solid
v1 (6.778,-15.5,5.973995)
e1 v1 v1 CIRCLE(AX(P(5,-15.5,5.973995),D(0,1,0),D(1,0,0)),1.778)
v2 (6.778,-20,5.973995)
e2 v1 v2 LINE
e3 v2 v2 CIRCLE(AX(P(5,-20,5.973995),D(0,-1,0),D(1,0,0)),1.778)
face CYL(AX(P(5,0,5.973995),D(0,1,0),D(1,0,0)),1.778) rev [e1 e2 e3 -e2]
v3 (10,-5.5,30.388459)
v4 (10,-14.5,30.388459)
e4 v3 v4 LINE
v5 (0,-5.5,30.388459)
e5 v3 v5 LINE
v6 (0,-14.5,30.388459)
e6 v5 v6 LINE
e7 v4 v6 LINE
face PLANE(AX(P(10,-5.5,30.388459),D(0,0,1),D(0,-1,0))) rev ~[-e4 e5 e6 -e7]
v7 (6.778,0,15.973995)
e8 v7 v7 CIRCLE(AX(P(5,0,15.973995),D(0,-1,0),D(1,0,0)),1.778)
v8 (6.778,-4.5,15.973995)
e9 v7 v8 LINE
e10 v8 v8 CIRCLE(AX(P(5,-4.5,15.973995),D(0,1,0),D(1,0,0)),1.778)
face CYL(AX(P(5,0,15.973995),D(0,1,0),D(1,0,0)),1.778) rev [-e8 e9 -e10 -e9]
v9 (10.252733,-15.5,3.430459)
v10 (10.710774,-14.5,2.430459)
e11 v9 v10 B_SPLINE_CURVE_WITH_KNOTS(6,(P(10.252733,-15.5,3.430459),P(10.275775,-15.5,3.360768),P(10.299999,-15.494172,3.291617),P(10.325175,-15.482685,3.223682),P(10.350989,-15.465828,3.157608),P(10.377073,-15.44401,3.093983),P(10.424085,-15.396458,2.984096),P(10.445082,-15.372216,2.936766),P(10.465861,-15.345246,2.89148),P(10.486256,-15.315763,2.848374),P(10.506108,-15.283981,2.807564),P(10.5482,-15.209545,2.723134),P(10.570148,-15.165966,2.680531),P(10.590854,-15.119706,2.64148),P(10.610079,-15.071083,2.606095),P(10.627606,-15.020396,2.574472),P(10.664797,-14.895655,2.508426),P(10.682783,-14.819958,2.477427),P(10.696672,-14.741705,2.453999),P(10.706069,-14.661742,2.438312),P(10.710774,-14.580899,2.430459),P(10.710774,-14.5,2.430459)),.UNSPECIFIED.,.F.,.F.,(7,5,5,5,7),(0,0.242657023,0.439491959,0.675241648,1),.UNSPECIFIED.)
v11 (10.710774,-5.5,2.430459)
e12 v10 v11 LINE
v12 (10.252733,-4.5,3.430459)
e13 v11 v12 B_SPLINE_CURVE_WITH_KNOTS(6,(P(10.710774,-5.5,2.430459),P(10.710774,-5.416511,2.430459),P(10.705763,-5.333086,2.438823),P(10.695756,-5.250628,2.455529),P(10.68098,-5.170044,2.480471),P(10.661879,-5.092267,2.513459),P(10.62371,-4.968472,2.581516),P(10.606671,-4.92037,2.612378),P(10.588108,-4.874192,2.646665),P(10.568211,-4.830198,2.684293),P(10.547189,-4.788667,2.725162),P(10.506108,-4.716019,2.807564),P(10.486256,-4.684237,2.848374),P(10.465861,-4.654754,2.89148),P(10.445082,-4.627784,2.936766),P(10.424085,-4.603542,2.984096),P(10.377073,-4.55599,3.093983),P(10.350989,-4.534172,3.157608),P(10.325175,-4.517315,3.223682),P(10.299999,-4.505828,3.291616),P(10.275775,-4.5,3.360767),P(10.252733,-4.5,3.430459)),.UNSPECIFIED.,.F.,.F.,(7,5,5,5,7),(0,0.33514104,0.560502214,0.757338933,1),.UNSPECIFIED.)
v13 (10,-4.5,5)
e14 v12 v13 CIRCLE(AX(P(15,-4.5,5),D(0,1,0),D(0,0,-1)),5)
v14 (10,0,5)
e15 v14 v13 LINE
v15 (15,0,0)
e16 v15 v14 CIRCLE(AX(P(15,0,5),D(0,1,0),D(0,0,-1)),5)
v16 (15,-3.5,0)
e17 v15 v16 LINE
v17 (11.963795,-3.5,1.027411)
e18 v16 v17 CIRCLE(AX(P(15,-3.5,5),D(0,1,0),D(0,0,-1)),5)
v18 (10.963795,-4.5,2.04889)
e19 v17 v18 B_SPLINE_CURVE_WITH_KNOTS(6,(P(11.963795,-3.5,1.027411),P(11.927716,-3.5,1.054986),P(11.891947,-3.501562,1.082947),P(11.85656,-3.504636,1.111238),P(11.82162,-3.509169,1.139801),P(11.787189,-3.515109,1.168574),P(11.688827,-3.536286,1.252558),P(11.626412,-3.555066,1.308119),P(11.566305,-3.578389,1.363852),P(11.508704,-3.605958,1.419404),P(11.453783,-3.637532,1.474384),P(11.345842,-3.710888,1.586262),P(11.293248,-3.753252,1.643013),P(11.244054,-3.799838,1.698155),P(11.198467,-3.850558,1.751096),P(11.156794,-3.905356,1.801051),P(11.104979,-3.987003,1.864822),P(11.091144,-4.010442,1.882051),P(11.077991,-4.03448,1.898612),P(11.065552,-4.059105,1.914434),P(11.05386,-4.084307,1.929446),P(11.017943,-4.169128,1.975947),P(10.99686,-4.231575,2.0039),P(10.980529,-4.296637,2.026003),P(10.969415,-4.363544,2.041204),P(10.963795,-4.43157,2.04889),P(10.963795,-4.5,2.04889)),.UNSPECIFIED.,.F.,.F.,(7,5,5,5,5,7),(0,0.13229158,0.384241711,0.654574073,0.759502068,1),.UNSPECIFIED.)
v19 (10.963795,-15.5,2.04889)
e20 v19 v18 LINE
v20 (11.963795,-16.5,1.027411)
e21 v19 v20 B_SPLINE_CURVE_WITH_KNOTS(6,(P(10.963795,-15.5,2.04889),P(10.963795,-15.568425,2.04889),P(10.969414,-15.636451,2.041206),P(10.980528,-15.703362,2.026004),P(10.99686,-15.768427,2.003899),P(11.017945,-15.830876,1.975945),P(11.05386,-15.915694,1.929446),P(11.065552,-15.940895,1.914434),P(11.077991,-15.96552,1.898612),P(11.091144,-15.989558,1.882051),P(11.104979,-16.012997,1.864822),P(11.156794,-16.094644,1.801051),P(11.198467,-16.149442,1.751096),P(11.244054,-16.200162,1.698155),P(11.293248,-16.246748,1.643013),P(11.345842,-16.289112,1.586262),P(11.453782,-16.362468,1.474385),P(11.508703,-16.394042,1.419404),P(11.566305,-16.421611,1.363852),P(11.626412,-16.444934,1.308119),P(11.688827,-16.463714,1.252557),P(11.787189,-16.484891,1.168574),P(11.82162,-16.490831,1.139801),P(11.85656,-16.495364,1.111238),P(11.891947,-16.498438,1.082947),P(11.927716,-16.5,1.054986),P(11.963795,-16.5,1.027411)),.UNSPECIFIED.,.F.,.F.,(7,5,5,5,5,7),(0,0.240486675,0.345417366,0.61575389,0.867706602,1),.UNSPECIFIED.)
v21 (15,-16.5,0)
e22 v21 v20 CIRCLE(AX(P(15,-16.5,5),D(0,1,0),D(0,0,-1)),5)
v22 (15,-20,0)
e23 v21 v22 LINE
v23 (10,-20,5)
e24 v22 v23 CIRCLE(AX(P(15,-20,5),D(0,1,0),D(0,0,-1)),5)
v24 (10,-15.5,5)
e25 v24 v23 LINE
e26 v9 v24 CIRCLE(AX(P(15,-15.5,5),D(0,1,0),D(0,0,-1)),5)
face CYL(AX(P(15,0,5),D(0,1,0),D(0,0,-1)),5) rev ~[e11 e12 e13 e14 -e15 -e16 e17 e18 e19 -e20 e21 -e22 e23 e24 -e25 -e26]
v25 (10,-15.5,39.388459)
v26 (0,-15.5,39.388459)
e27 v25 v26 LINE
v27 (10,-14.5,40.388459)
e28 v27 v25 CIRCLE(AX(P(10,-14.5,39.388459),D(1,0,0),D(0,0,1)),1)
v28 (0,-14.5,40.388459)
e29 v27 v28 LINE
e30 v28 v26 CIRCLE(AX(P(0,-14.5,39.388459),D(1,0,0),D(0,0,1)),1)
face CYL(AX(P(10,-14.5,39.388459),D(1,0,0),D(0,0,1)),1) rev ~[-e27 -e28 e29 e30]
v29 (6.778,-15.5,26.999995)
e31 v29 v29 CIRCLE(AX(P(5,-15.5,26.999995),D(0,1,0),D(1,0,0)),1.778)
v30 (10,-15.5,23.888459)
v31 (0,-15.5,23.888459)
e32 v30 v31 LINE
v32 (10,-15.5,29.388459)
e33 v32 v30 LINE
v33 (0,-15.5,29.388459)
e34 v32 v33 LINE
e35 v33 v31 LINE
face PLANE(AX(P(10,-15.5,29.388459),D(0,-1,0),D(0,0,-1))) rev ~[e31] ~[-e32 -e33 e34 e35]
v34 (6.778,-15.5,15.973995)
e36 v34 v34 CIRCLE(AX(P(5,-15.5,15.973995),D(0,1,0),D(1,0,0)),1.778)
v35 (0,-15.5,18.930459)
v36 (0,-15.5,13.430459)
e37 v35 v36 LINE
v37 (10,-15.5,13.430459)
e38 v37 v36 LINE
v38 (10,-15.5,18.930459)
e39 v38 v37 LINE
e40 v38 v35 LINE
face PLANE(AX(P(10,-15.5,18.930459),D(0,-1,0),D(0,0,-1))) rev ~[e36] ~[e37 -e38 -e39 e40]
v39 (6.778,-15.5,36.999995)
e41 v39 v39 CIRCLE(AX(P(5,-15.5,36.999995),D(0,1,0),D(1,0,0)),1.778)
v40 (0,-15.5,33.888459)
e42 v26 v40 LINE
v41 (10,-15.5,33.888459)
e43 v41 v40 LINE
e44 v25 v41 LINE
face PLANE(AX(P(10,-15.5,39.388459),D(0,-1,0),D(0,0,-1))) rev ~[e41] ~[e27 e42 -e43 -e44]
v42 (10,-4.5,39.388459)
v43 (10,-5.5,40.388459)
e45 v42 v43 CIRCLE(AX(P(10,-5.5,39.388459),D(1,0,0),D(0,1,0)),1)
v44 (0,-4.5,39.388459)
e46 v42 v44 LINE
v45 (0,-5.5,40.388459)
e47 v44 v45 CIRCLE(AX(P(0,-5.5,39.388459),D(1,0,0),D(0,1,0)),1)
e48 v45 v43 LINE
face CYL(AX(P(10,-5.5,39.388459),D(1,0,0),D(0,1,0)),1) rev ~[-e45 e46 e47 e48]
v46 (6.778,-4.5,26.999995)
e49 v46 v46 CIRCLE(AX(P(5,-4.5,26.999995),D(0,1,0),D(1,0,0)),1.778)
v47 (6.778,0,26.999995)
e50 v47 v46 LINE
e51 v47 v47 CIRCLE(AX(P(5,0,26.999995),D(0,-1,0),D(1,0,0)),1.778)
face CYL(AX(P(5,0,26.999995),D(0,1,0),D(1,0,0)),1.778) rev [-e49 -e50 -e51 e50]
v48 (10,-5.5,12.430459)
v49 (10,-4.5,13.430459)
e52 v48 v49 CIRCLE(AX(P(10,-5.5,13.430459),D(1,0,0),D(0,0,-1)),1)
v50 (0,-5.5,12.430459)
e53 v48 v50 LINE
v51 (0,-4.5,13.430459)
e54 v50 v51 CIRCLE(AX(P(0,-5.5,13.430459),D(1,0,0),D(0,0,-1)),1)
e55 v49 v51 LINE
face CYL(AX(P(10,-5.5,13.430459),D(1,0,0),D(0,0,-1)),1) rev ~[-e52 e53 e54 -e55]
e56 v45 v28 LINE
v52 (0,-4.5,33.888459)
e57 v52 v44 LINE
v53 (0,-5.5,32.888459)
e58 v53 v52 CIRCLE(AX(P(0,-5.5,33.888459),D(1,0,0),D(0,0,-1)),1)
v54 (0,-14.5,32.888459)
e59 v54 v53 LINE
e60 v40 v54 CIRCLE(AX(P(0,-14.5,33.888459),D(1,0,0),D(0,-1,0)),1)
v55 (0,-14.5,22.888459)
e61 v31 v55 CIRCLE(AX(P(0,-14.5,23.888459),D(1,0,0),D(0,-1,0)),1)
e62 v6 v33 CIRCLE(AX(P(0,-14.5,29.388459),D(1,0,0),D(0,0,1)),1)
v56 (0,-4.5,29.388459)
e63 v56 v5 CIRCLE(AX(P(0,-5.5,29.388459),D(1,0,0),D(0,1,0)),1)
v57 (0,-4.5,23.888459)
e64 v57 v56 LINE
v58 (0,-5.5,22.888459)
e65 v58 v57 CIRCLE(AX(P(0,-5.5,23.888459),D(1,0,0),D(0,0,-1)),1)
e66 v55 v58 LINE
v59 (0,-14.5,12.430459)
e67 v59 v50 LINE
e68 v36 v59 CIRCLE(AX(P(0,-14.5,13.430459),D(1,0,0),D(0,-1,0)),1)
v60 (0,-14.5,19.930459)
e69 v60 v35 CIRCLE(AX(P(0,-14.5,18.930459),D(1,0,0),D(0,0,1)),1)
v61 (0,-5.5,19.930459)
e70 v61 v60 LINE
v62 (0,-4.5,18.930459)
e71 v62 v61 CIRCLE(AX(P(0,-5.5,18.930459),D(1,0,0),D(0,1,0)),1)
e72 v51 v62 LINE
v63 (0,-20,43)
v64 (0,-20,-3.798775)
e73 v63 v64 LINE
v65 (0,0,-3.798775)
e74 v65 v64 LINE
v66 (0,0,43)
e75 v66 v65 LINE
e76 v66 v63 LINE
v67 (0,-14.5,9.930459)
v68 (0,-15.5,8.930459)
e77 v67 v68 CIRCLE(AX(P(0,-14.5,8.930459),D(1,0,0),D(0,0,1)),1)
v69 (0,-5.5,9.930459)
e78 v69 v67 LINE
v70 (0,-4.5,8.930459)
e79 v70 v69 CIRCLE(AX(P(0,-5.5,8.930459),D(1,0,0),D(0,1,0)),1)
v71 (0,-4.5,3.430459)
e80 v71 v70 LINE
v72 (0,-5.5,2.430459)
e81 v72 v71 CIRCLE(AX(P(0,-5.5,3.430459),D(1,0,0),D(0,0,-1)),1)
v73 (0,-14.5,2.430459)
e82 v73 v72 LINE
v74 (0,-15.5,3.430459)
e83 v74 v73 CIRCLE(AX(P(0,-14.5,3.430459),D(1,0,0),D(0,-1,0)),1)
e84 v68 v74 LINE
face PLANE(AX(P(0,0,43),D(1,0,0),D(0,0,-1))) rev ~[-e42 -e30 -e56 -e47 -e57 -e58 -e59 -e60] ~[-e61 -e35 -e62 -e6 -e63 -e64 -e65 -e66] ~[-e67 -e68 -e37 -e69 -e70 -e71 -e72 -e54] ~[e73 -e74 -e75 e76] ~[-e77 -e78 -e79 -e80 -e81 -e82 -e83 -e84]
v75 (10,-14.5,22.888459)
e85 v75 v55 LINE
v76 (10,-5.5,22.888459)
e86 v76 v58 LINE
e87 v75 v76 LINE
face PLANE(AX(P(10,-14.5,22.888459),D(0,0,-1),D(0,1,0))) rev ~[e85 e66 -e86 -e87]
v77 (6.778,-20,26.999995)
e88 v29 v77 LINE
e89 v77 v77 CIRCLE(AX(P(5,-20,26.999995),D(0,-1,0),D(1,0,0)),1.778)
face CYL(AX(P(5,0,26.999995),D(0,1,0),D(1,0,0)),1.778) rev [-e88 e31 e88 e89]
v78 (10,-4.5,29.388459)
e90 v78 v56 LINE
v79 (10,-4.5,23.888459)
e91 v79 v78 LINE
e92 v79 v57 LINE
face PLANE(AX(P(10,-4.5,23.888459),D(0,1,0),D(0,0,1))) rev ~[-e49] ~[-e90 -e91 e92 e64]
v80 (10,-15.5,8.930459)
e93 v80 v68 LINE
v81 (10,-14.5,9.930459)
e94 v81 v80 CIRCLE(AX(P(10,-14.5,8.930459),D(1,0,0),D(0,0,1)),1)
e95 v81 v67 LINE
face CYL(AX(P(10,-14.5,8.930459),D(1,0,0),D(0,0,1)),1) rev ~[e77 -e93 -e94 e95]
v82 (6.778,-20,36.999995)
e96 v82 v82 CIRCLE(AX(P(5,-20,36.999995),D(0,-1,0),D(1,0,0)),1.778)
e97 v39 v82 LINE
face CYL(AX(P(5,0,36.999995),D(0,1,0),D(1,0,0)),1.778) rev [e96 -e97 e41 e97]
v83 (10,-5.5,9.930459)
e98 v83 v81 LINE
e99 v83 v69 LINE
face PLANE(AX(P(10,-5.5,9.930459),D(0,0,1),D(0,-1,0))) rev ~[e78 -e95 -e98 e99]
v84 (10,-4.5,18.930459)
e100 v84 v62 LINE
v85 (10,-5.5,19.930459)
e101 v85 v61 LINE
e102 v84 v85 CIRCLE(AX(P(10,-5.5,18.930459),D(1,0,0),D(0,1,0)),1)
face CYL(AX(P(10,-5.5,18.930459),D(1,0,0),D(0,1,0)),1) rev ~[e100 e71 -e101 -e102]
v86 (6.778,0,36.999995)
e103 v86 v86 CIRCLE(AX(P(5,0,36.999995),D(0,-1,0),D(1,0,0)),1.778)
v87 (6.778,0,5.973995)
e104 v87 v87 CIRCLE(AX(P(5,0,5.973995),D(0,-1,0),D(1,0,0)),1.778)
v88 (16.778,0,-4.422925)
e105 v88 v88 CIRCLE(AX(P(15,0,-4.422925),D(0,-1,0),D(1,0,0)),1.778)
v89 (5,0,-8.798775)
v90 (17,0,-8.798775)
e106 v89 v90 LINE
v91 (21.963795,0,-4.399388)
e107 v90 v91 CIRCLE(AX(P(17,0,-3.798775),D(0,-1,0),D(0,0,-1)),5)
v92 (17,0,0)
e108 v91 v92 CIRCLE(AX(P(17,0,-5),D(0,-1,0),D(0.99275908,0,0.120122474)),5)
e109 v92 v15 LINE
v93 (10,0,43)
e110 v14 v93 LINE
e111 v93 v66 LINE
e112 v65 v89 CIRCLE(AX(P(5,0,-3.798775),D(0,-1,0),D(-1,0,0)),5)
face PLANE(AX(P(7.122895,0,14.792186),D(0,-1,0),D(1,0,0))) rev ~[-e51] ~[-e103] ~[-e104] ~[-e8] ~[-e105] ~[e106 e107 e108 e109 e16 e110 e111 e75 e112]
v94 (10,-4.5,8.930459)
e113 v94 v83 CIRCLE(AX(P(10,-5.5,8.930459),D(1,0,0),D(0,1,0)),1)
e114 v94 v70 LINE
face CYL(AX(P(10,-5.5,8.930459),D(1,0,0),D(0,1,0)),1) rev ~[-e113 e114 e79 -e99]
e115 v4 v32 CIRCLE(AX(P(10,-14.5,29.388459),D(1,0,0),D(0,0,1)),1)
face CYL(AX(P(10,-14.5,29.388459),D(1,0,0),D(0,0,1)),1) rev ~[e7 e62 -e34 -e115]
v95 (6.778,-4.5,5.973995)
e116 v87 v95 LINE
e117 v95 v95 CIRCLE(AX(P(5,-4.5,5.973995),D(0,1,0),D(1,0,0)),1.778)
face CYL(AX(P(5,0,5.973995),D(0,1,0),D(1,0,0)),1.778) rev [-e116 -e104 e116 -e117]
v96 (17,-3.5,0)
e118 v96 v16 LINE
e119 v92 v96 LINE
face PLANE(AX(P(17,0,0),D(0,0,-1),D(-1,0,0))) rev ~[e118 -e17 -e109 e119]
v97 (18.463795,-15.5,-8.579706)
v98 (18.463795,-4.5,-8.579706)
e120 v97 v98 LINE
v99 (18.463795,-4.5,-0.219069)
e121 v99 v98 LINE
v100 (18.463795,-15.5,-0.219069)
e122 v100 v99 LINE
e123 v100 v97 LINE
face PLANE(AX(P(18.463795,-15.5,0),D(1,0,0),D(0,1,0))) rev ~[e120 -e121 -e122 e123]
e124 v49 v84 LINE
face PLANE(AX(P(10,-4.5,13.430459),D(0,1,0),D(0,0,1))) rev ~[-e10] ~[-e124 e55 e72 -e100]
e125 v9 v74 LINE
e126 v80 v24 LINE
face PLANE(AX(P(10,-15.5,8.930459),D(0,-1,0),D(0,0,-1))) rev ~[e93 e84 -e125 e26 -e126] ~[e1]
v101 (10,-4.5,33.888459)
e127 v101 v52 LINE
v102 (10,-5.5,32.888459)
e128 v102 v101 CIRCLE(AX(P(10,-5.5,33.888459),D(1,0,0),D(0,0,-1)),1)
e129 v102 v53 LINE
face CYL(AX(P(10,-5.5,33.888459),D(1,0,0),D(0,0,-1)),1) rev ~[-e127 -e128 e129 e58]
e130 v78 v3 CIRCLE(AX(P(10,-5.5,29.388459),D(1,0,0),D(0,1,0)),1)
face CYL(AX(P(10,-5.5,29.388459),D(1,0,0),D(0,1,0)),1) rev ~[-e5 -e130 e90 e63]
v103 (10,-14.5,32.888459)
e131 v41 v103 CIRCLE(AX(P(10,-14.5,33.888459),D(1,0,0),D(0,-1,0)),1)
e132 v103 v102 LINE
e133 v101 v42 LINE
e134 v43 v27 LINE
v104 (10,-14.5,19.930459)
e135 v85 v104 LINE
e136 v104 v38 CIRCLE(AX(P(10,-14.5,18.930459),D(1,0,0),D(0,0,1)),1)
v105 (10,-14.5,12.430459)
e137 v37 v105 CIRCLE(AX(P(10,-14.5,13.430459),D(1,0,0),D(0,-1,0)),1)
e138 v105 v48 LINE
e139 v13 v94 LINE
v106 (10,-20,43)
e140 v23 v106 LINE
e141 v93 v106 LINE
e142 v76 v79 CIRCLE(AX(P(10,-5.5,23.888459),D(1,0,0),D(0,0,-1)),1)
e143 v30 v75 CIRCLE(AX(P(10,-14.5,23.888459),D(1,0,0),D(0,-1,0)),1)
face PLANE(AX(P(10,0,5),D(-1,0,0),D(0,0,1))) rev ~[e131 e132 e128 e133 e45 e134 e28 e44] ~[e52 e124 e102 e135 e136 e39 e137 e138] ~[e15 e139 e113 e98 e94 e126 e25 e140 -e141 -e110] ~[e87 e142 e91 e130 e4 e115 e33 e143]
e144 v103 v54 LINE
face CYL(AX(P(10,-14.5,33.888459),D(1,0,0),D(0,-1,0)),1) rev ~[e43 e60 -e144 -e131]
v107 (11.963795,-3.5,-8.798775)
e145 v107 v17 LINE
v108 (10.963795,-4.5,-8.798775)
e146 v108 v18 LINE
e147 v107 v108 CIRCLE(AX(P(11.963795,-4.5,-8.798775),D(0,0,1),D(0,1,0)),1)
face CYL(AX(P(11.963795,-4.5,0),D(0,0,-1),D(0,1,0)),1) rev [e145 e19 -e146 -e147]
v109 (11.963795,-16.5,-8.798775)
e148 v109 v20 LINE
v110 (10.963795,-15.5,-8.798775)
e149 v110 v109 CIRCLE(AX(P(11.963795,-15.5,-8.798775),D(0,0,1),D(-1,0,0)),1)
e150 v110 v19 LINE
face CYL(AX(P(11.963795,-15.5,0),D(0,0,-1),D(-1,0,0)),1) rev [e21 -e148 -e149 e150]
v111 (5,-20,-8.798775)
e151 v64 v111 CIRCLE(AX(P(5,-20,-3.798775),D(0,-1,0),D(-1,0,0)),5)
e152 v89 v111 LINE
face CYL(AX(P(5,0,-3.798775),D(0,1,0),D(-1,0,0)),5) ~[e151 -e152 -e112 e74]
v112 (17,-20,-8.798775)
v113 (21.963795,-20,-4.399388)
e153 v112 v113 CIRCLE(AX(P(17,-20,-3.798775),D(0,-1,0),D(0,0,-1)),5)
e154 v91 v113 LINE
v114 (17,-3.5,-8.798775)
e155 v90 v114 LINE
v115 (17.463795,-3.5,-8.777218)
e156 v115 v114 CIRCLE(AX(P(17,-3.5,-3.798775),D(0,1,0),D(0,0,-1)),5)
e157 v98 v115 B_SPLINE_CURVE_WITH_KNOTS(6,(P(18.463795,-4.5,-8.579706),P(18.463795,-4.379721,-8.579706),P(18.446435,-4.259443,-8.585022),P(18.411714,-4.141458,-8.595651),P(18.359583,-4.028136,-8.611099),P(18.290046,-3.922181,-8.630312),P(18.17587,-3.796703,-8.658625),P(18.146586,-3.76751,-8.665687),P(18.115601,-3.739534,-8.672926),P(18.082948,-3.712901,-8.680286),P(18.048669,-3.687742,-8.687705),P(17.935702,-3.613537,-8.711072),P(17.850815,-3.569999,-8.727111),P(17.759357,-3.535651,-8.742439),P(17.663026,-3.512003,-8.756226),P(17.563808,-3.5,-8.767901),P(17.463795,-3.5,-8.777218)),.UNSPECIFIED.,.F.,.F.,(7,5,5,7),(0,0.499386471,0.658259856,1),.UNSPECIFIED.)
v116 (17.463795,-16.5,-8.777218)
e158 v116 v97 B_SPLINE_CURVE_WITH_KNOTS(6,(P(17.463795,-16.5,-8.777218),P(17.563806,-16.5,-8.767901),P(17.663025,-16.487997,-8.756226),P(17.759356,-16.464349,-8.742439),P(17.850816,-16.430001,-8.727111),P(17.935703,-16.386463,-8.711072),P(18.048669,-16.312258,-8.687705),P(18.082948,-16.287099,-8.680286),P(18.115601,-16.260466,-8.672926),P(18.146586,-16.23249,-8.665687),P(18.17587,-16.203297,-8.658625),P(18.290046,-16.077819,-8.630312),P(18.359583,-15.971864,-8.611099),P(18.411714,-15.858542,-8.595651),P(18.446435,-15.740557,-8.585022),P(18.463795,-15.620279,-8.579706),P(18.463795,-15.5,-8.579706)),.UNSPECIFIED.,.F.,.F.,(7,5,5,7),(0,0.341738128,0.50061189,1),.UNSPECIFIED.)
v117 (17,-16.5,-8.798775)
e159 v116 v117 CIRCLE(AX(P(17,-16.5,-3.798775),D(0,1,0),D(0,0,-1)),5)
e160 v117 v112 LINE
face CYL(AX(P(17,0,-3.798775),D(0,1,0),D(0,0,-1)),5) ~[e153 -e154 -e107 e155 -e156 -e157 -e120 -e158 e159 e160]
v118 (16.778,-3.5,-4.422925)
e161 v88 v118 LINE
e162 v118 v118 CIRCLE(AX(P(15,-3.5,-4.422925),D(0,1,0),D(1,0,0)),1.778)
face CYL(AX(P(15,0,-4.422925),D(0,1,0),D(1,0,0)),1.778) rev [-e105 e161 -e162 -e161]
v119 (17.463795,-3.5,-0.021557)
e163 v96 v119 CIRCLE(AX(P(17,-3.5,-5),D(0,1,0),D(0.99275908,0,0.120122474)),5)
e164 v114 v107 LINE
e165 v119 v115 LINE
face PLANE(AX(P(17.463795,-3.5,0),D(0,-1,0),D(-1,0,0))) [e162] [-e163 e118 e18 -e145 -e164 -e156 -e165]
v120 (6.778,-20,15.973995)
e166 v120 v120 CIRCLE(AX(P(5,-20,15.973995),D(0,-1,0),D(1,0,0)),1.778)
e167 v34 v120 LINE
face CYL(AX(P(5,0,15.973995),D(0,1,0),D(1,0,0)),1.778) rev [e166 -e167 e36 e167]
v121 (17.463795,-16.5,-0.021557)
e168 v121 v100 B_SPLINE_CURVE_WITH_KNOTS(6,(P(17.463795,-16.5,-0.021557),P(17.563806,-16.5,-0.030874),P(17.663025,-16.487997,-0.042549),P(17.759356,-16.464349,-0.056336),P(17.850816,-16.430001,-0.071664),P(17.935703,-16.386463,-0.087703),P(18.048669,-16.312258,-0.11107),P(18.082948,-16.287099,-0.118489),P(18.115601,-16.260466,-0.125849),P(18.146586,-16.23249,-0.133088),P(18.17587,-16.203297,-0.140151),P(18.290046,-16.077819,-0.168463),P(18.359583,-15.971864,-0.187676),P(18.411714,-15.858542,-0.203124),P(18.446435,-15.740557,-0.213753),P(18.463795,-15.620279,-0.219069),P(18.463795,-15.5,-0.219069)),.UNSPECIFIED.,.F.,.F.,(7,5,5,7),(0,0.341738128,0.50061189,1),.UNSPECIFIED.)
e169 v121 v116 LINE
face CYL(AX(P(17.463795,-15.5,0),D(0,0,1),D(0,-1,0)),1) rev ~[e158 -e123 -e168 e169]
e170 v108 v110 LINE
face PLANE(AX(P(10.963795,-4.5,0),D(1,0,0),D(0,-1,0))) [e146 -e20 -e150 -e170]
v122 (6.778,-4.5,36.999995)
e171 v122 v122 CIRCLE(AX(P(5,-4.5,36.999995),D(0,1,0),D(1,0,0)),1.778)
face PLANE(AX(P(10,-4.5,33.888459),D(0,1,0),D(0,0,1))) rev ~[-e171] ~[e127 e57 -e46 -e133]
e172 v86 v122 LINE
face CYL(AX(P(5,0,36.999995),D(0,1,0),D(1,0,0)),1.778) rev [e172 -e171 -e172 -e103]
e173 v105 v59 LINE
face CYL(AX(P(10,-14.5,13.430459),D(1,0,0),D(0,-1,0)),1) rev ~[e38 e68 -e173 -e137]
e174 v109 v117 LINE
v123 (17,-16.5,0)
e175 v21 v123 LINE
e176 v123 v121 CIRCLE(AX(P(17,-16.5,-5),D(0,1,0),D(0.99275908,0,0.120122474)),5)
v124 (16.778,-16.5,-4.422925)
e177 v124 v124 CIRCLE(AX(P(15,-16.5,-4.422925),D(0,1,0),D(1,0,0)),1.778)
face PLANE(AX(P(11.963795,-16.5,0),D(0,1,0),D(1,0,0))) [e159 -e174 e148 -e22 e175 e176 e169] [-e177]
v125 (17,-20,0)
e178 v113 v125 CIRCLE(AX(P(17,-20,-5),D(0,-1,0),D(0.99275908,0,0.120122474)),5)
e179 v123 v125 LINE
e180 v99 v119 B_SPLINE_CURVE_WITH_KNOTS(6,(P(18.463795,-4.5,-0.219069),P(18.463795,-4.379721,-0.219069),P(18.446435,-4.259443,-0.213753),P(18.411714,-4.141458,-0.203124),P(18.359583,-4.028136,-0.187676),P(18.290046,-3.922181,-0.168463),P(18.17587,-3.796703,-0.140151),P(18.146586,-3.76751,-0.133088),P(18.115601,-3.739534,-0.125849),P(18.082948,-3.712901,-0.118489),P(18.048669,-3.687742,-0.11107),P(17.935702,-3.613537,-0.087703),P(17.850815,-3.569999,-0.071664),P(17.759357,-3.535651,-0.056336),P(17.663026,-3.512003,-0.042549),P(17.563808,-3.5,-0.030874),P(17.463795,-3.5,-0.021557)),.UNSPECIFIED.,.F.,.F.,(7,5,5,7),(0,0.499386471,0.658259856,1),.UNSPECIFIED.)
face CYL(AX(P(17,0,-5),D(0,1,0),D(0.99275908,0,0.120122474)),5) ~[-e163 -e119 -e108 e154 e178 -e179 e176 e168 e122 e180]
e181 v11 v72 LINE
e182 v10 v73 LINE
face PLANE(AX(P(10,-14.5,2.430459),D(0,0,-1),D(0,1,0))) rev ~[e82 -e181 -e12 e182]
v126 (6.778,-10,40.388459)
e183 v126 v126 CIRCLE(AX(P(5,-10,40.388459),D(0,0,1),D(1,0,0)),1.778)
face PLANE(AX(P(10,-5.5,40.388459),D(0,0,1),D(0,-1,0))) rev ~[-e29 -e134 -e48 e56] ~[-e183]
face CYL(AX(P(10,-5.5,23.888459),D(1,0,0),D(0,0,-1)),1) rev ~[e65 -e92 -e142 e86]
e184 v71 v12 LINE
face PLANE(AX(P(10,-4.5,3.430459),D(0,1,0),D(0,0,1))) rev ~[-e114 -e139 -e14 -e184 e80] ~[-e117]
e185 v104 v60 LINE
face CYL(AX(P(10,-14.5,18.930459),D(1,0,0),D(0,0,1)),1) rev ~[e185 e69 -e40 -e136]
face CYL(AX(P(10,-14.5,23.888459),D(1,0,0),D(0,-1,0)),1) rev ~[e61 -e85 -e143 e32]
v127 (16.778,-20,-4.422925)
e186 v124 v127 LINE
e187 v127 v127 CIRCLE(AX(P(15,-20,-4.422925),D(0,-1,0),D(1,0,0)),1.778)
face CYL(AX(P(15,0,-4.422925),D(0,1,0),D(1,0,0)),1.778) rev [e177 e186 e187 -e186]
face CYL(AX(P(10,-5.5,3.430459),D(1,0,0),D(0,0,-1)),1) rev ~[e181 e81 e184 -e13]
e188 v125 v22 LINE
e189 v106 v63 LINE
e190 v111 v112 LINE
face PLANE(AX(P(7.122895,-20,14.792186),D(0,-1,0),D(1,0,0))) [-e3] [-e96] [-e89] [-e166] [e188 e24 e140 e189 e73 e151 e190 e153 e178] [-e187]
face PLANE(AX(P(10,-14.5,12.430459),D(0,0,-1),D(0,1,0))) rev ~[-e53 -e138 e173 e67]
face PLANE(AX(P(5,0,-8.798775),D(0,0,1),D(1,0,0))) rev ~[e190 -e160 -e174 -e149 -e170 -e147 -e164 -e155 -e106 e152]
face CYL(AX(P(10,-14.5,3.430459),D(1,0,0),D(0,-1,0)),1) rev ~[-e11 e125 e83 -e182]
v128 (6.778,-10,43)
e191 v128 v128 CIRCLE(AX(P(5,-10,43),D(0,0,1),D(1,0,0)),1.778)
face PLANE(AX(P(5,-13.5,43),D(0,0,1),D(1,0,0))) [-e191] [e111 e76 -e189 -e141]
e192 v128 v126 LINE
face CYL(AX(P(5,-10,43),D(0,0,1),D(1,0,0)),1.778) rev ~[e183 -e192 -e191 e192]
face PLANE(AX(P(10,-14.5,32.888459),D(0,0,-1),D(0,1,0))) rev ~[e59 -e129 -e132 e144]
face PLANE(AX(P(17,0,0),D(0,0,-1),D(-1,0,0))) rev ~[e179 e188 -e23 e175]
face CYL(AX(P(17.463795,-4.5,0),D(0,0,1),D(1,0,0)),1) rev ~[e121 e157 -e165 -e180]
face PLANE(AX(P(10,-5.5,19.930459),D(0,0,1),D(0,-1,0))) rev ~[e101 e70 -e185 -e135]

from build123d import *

# Parameters (mm, degrees)
F1_DEPTH      = 20
F0_R          = 1.778
F3_DEPTH      = 25
F3_DEPTH_BACK = 25
F5_DEPTH      = 25
F5_DEPTH_BACK = 25
F6_R          = 1.778
F7_DEPTH      = 2.611541214
F8_R          = 1.778
F9_DEPTH      = 5


with BuildPart() as f1:
    # F0 (on Front) → F1 (new body)
    with BuildSketch(Plane.XZ):
        with BuildLine():
            ThreePointArc((22, -3.7987752631), (21.9909406431, -4.0996265512), (21.963795401, -4.3993876316))
            ThreePointArc((21.963795401, -4.3993876316), (21.9909406431, -4.6991487119), (22, -5))
            Line((22, -5), (22, -3.7987752631))
        make_face()
    extrude(amount=F1_DEPTH)


with BuildPart() as f1b:
    # F0 (on Front) → F1, piece 2 (new body)
    with BuildSketch(Plane.XZ):
        with BuildLine():
            Line((10, 43), (0, 43))
            Line((0, 43), (0, 0))
            Line((0, 0), (0, -3.7987752631))
            ThreePointArc((0, -3.7987752631), (1.4644660941, -7.3343091691), (5, -8.7987752631))
            Line((5, -8.7987752631), (17, -8.7987752631))
            ThreePointArc((17, -8.7987752631), (20.3163939873, -7.5406372222), (21.963795401, -4.3993876316))
            ThreePointArc((21.963795401, -4.3993876316), (20.3163939873, -1.2581380409), (17, 0))
            Line((17, 0), (15, 0))
            ThreePointArc((15, 0), (11.4644660941, 1.4644660941), (10, 5))
            Line((10, 5), (10, 43))
        make_face()
        with Locations((5, 5.9739946499)):
            Circle(F0_R, mode=Mode.SUBTRACT)
        with Locations((5, 15.9739946499)):
            Circle(F0_R, mode=Mode.SUBTRACT)
        with Locations((15, -4.4229245409)):
            Circle(F0_R, mode=Mode.SUBTRACT)
        with Locations((5, 26.9999946499)):
            Circle(F0_R, mode=Mode.SUBTRACT)
        with Locations((5, 36.9999946499)):
            Circle(F0_R, mode=Mode.SUBTRACT)
    extrude(amount=F1_DEPTH)

    # F2 (on face) → F3 (cut, two sides)
    with BuildSketch(Plane.YZ.offset(10)) as f3_sk:
        with BuildLine():
            ThreePointArc((-15.5, 3.430458786), (-15.2071067812, 2.7233520048), (-14.5, 2.430458786))
            Line((-14.5, 2.430458786), (-5.5, 2.430458786))
            ThreePointArc((-5.5, 2.430458786), (-4.7928932188, 2.7233520048), (-4.5, 3.430458786))
            Line((-4.5, 3.430458786), (-4.5, 8.930458786))
            ThreePointArc((-4.5, 8.930458786), (-4.7928932188, 9.6375655672), (-5.5, 9.930458786))
            Line((-5.5, 9.930458786), (-14.5, 9.930458786))
            ThreePointArc((-14.5, 9.930458786), (-15.2071067812, 9.6375655672), (-15.5, 8.930458786))
            Line((-15.5, 8.930458786), (-15.5, 3.430458786))
        make_face()
        with BuildLine():
            Line((-5.5, 19.930458786), (-14.5, 19.930458786))
            ThreePointArc((-14.5, 19.930458786), (-15.2071067812, 19.6375655672), (-15.5, 18.930458786))
            Line((-15.5, 18.930458786), (-15.5, 13.430458786))
            ThreePointArc((-15.5, 13.430458786), (-15.2071067812, 12.7233520048), (-14.5, 12.430458786))
            Line((-14.5, 12.430458786), (-5.5, 12.430458786))
            ThreePointArc((-5.5, 12.430458786), (-4.7928932188, 12.7233520048), (-4.5, 13.430458786))
            Line((-4.5, 13.430458786), (-4.5, 18.930458786))
            ThreePointArc((-4.5, 18.930458786), (-4.7928932188, 19.6375655672), (-5.5, 19.930458786))
        make_face()
        with BuildLine():
            ThreePointArc((-14.5, 40.388458786), (-15.2071067812, 40.0955655672), (-15.5, 39.388458786))
            Line((-15.5, 39.388458786), (-15.5, 33.888458786))
            ThreePointArc((-15.5, 33.888458786), (-15.2071067812, 33.1813520048), (-14.5, 32.888458786))
            Line((-14.5, 32.888458786), (-5.5, 32.888458786))
            ThreePointArc((-5.5, 32.888458786), (-4.7928932188, 33.1813520048), (-4.5, 33.888458786))
            Line((-4.5, 33.888458786), (-4.5, 39.388458786))
            ThreePointArc((-4.5, 39.388458786), (-4.7928932188, 40.0955655672), (-5.5, 40.388458786))
            Line((-5.5, 40.388458786), (-14.5, 40.388458786))
        make_face()
        with BuildLine():
            ThreePointArc((-14.5, 30.388458786), (-15.2071067812, 30.0955655672), (-15.5, 29.388458786))
            Line((-15.5, 29.388458786), (-15.5, 23.888458786))
            ThreePointArc((-15.5, 23.888458786), (-15.2071067812, 23.1813520048), (-14.5, 22.888458786))
            Line((-14.5, 22.888458786), (-5.5, 22.888458786))
            ThreePointArc((-5.5, 22.888458786), (-4.7928932188, 23.1813520048), (-4.5, 23.888458786))
            Line((-4.5, 23.888458786), (-4.5, 29.388458786))
            ThreePointArc((-4.5, 29.388458786), (-4.7928932188, 30.0955655672), (-5.5, 30.388458786))
            Line((-5.5, 30.388458786), (-14.5, 30.388458786))
        make_face()
    extrude(amount=-F3_DEPTH, mode=Mode.SUBTRACT)
    extrude(f3_sk.sketch, amount=F3_DEPTH_BACK, mode=Mode.SUBTRACT)

    # F4 (on face) → F5 (cut, two sides)
    with BuildSketch(Plane.XY) as f5_sk:
        with BuildLine():
            Line((11.963795401, -16.5), (17.463795401, -16.5))
            ThreePointArc((17.463795401, -16.5), (18.1709021822, -16.2071067812), (18.463795401, -15.5))
            Line((18.463795401, -15.5), (18.463795401, -4.5))
            ThreePointArc((18.463795401, -4.5), (18.1709021822, -3.7928932188), (17.463795401, -3.5))
            Line((17.463795401, -3.5), (11.963795401, -3.5))
            ThreePointArc((11.963795401, -3.5), (11.2566886198, -3.7928932188), (10.963795401, -4.5))
            Line((10.963795401, -4.5), (10.963795401, -15.5))
            ThreePointArc((10.963795401, -15.5), (11.2566886198, -16.2071067812), (11.963795401, -16.5))
        make_face()
    extrude(amount=-F5_DEPTH, mode=Mode.SUBTRACT)
    extrude(f5_sk.sketch, amount=F5_DEPTH_BACK, mode=Mode.SUBTRACT)

    # F6 (on face) → F7 (join, through all)
    with BuildSketch(Plane.XY.offset(43)):
        with Locations((5, -13.5)):
            Circle(F6_R)
        with Locations((5, -6.5)):
            Circle(F6_R)
    extrude(amount=-F7_DEPTH)

    # F8 (on face) → F9 (cut)
    with BuildSketch(Plane.XY.offset(43)):
        with Locations((5, -10)):
            Circle(F8_R)
    extrude(amount=-F9_DEPTH, mode=Mode.SUBTRACT)


solid = f1b.part
